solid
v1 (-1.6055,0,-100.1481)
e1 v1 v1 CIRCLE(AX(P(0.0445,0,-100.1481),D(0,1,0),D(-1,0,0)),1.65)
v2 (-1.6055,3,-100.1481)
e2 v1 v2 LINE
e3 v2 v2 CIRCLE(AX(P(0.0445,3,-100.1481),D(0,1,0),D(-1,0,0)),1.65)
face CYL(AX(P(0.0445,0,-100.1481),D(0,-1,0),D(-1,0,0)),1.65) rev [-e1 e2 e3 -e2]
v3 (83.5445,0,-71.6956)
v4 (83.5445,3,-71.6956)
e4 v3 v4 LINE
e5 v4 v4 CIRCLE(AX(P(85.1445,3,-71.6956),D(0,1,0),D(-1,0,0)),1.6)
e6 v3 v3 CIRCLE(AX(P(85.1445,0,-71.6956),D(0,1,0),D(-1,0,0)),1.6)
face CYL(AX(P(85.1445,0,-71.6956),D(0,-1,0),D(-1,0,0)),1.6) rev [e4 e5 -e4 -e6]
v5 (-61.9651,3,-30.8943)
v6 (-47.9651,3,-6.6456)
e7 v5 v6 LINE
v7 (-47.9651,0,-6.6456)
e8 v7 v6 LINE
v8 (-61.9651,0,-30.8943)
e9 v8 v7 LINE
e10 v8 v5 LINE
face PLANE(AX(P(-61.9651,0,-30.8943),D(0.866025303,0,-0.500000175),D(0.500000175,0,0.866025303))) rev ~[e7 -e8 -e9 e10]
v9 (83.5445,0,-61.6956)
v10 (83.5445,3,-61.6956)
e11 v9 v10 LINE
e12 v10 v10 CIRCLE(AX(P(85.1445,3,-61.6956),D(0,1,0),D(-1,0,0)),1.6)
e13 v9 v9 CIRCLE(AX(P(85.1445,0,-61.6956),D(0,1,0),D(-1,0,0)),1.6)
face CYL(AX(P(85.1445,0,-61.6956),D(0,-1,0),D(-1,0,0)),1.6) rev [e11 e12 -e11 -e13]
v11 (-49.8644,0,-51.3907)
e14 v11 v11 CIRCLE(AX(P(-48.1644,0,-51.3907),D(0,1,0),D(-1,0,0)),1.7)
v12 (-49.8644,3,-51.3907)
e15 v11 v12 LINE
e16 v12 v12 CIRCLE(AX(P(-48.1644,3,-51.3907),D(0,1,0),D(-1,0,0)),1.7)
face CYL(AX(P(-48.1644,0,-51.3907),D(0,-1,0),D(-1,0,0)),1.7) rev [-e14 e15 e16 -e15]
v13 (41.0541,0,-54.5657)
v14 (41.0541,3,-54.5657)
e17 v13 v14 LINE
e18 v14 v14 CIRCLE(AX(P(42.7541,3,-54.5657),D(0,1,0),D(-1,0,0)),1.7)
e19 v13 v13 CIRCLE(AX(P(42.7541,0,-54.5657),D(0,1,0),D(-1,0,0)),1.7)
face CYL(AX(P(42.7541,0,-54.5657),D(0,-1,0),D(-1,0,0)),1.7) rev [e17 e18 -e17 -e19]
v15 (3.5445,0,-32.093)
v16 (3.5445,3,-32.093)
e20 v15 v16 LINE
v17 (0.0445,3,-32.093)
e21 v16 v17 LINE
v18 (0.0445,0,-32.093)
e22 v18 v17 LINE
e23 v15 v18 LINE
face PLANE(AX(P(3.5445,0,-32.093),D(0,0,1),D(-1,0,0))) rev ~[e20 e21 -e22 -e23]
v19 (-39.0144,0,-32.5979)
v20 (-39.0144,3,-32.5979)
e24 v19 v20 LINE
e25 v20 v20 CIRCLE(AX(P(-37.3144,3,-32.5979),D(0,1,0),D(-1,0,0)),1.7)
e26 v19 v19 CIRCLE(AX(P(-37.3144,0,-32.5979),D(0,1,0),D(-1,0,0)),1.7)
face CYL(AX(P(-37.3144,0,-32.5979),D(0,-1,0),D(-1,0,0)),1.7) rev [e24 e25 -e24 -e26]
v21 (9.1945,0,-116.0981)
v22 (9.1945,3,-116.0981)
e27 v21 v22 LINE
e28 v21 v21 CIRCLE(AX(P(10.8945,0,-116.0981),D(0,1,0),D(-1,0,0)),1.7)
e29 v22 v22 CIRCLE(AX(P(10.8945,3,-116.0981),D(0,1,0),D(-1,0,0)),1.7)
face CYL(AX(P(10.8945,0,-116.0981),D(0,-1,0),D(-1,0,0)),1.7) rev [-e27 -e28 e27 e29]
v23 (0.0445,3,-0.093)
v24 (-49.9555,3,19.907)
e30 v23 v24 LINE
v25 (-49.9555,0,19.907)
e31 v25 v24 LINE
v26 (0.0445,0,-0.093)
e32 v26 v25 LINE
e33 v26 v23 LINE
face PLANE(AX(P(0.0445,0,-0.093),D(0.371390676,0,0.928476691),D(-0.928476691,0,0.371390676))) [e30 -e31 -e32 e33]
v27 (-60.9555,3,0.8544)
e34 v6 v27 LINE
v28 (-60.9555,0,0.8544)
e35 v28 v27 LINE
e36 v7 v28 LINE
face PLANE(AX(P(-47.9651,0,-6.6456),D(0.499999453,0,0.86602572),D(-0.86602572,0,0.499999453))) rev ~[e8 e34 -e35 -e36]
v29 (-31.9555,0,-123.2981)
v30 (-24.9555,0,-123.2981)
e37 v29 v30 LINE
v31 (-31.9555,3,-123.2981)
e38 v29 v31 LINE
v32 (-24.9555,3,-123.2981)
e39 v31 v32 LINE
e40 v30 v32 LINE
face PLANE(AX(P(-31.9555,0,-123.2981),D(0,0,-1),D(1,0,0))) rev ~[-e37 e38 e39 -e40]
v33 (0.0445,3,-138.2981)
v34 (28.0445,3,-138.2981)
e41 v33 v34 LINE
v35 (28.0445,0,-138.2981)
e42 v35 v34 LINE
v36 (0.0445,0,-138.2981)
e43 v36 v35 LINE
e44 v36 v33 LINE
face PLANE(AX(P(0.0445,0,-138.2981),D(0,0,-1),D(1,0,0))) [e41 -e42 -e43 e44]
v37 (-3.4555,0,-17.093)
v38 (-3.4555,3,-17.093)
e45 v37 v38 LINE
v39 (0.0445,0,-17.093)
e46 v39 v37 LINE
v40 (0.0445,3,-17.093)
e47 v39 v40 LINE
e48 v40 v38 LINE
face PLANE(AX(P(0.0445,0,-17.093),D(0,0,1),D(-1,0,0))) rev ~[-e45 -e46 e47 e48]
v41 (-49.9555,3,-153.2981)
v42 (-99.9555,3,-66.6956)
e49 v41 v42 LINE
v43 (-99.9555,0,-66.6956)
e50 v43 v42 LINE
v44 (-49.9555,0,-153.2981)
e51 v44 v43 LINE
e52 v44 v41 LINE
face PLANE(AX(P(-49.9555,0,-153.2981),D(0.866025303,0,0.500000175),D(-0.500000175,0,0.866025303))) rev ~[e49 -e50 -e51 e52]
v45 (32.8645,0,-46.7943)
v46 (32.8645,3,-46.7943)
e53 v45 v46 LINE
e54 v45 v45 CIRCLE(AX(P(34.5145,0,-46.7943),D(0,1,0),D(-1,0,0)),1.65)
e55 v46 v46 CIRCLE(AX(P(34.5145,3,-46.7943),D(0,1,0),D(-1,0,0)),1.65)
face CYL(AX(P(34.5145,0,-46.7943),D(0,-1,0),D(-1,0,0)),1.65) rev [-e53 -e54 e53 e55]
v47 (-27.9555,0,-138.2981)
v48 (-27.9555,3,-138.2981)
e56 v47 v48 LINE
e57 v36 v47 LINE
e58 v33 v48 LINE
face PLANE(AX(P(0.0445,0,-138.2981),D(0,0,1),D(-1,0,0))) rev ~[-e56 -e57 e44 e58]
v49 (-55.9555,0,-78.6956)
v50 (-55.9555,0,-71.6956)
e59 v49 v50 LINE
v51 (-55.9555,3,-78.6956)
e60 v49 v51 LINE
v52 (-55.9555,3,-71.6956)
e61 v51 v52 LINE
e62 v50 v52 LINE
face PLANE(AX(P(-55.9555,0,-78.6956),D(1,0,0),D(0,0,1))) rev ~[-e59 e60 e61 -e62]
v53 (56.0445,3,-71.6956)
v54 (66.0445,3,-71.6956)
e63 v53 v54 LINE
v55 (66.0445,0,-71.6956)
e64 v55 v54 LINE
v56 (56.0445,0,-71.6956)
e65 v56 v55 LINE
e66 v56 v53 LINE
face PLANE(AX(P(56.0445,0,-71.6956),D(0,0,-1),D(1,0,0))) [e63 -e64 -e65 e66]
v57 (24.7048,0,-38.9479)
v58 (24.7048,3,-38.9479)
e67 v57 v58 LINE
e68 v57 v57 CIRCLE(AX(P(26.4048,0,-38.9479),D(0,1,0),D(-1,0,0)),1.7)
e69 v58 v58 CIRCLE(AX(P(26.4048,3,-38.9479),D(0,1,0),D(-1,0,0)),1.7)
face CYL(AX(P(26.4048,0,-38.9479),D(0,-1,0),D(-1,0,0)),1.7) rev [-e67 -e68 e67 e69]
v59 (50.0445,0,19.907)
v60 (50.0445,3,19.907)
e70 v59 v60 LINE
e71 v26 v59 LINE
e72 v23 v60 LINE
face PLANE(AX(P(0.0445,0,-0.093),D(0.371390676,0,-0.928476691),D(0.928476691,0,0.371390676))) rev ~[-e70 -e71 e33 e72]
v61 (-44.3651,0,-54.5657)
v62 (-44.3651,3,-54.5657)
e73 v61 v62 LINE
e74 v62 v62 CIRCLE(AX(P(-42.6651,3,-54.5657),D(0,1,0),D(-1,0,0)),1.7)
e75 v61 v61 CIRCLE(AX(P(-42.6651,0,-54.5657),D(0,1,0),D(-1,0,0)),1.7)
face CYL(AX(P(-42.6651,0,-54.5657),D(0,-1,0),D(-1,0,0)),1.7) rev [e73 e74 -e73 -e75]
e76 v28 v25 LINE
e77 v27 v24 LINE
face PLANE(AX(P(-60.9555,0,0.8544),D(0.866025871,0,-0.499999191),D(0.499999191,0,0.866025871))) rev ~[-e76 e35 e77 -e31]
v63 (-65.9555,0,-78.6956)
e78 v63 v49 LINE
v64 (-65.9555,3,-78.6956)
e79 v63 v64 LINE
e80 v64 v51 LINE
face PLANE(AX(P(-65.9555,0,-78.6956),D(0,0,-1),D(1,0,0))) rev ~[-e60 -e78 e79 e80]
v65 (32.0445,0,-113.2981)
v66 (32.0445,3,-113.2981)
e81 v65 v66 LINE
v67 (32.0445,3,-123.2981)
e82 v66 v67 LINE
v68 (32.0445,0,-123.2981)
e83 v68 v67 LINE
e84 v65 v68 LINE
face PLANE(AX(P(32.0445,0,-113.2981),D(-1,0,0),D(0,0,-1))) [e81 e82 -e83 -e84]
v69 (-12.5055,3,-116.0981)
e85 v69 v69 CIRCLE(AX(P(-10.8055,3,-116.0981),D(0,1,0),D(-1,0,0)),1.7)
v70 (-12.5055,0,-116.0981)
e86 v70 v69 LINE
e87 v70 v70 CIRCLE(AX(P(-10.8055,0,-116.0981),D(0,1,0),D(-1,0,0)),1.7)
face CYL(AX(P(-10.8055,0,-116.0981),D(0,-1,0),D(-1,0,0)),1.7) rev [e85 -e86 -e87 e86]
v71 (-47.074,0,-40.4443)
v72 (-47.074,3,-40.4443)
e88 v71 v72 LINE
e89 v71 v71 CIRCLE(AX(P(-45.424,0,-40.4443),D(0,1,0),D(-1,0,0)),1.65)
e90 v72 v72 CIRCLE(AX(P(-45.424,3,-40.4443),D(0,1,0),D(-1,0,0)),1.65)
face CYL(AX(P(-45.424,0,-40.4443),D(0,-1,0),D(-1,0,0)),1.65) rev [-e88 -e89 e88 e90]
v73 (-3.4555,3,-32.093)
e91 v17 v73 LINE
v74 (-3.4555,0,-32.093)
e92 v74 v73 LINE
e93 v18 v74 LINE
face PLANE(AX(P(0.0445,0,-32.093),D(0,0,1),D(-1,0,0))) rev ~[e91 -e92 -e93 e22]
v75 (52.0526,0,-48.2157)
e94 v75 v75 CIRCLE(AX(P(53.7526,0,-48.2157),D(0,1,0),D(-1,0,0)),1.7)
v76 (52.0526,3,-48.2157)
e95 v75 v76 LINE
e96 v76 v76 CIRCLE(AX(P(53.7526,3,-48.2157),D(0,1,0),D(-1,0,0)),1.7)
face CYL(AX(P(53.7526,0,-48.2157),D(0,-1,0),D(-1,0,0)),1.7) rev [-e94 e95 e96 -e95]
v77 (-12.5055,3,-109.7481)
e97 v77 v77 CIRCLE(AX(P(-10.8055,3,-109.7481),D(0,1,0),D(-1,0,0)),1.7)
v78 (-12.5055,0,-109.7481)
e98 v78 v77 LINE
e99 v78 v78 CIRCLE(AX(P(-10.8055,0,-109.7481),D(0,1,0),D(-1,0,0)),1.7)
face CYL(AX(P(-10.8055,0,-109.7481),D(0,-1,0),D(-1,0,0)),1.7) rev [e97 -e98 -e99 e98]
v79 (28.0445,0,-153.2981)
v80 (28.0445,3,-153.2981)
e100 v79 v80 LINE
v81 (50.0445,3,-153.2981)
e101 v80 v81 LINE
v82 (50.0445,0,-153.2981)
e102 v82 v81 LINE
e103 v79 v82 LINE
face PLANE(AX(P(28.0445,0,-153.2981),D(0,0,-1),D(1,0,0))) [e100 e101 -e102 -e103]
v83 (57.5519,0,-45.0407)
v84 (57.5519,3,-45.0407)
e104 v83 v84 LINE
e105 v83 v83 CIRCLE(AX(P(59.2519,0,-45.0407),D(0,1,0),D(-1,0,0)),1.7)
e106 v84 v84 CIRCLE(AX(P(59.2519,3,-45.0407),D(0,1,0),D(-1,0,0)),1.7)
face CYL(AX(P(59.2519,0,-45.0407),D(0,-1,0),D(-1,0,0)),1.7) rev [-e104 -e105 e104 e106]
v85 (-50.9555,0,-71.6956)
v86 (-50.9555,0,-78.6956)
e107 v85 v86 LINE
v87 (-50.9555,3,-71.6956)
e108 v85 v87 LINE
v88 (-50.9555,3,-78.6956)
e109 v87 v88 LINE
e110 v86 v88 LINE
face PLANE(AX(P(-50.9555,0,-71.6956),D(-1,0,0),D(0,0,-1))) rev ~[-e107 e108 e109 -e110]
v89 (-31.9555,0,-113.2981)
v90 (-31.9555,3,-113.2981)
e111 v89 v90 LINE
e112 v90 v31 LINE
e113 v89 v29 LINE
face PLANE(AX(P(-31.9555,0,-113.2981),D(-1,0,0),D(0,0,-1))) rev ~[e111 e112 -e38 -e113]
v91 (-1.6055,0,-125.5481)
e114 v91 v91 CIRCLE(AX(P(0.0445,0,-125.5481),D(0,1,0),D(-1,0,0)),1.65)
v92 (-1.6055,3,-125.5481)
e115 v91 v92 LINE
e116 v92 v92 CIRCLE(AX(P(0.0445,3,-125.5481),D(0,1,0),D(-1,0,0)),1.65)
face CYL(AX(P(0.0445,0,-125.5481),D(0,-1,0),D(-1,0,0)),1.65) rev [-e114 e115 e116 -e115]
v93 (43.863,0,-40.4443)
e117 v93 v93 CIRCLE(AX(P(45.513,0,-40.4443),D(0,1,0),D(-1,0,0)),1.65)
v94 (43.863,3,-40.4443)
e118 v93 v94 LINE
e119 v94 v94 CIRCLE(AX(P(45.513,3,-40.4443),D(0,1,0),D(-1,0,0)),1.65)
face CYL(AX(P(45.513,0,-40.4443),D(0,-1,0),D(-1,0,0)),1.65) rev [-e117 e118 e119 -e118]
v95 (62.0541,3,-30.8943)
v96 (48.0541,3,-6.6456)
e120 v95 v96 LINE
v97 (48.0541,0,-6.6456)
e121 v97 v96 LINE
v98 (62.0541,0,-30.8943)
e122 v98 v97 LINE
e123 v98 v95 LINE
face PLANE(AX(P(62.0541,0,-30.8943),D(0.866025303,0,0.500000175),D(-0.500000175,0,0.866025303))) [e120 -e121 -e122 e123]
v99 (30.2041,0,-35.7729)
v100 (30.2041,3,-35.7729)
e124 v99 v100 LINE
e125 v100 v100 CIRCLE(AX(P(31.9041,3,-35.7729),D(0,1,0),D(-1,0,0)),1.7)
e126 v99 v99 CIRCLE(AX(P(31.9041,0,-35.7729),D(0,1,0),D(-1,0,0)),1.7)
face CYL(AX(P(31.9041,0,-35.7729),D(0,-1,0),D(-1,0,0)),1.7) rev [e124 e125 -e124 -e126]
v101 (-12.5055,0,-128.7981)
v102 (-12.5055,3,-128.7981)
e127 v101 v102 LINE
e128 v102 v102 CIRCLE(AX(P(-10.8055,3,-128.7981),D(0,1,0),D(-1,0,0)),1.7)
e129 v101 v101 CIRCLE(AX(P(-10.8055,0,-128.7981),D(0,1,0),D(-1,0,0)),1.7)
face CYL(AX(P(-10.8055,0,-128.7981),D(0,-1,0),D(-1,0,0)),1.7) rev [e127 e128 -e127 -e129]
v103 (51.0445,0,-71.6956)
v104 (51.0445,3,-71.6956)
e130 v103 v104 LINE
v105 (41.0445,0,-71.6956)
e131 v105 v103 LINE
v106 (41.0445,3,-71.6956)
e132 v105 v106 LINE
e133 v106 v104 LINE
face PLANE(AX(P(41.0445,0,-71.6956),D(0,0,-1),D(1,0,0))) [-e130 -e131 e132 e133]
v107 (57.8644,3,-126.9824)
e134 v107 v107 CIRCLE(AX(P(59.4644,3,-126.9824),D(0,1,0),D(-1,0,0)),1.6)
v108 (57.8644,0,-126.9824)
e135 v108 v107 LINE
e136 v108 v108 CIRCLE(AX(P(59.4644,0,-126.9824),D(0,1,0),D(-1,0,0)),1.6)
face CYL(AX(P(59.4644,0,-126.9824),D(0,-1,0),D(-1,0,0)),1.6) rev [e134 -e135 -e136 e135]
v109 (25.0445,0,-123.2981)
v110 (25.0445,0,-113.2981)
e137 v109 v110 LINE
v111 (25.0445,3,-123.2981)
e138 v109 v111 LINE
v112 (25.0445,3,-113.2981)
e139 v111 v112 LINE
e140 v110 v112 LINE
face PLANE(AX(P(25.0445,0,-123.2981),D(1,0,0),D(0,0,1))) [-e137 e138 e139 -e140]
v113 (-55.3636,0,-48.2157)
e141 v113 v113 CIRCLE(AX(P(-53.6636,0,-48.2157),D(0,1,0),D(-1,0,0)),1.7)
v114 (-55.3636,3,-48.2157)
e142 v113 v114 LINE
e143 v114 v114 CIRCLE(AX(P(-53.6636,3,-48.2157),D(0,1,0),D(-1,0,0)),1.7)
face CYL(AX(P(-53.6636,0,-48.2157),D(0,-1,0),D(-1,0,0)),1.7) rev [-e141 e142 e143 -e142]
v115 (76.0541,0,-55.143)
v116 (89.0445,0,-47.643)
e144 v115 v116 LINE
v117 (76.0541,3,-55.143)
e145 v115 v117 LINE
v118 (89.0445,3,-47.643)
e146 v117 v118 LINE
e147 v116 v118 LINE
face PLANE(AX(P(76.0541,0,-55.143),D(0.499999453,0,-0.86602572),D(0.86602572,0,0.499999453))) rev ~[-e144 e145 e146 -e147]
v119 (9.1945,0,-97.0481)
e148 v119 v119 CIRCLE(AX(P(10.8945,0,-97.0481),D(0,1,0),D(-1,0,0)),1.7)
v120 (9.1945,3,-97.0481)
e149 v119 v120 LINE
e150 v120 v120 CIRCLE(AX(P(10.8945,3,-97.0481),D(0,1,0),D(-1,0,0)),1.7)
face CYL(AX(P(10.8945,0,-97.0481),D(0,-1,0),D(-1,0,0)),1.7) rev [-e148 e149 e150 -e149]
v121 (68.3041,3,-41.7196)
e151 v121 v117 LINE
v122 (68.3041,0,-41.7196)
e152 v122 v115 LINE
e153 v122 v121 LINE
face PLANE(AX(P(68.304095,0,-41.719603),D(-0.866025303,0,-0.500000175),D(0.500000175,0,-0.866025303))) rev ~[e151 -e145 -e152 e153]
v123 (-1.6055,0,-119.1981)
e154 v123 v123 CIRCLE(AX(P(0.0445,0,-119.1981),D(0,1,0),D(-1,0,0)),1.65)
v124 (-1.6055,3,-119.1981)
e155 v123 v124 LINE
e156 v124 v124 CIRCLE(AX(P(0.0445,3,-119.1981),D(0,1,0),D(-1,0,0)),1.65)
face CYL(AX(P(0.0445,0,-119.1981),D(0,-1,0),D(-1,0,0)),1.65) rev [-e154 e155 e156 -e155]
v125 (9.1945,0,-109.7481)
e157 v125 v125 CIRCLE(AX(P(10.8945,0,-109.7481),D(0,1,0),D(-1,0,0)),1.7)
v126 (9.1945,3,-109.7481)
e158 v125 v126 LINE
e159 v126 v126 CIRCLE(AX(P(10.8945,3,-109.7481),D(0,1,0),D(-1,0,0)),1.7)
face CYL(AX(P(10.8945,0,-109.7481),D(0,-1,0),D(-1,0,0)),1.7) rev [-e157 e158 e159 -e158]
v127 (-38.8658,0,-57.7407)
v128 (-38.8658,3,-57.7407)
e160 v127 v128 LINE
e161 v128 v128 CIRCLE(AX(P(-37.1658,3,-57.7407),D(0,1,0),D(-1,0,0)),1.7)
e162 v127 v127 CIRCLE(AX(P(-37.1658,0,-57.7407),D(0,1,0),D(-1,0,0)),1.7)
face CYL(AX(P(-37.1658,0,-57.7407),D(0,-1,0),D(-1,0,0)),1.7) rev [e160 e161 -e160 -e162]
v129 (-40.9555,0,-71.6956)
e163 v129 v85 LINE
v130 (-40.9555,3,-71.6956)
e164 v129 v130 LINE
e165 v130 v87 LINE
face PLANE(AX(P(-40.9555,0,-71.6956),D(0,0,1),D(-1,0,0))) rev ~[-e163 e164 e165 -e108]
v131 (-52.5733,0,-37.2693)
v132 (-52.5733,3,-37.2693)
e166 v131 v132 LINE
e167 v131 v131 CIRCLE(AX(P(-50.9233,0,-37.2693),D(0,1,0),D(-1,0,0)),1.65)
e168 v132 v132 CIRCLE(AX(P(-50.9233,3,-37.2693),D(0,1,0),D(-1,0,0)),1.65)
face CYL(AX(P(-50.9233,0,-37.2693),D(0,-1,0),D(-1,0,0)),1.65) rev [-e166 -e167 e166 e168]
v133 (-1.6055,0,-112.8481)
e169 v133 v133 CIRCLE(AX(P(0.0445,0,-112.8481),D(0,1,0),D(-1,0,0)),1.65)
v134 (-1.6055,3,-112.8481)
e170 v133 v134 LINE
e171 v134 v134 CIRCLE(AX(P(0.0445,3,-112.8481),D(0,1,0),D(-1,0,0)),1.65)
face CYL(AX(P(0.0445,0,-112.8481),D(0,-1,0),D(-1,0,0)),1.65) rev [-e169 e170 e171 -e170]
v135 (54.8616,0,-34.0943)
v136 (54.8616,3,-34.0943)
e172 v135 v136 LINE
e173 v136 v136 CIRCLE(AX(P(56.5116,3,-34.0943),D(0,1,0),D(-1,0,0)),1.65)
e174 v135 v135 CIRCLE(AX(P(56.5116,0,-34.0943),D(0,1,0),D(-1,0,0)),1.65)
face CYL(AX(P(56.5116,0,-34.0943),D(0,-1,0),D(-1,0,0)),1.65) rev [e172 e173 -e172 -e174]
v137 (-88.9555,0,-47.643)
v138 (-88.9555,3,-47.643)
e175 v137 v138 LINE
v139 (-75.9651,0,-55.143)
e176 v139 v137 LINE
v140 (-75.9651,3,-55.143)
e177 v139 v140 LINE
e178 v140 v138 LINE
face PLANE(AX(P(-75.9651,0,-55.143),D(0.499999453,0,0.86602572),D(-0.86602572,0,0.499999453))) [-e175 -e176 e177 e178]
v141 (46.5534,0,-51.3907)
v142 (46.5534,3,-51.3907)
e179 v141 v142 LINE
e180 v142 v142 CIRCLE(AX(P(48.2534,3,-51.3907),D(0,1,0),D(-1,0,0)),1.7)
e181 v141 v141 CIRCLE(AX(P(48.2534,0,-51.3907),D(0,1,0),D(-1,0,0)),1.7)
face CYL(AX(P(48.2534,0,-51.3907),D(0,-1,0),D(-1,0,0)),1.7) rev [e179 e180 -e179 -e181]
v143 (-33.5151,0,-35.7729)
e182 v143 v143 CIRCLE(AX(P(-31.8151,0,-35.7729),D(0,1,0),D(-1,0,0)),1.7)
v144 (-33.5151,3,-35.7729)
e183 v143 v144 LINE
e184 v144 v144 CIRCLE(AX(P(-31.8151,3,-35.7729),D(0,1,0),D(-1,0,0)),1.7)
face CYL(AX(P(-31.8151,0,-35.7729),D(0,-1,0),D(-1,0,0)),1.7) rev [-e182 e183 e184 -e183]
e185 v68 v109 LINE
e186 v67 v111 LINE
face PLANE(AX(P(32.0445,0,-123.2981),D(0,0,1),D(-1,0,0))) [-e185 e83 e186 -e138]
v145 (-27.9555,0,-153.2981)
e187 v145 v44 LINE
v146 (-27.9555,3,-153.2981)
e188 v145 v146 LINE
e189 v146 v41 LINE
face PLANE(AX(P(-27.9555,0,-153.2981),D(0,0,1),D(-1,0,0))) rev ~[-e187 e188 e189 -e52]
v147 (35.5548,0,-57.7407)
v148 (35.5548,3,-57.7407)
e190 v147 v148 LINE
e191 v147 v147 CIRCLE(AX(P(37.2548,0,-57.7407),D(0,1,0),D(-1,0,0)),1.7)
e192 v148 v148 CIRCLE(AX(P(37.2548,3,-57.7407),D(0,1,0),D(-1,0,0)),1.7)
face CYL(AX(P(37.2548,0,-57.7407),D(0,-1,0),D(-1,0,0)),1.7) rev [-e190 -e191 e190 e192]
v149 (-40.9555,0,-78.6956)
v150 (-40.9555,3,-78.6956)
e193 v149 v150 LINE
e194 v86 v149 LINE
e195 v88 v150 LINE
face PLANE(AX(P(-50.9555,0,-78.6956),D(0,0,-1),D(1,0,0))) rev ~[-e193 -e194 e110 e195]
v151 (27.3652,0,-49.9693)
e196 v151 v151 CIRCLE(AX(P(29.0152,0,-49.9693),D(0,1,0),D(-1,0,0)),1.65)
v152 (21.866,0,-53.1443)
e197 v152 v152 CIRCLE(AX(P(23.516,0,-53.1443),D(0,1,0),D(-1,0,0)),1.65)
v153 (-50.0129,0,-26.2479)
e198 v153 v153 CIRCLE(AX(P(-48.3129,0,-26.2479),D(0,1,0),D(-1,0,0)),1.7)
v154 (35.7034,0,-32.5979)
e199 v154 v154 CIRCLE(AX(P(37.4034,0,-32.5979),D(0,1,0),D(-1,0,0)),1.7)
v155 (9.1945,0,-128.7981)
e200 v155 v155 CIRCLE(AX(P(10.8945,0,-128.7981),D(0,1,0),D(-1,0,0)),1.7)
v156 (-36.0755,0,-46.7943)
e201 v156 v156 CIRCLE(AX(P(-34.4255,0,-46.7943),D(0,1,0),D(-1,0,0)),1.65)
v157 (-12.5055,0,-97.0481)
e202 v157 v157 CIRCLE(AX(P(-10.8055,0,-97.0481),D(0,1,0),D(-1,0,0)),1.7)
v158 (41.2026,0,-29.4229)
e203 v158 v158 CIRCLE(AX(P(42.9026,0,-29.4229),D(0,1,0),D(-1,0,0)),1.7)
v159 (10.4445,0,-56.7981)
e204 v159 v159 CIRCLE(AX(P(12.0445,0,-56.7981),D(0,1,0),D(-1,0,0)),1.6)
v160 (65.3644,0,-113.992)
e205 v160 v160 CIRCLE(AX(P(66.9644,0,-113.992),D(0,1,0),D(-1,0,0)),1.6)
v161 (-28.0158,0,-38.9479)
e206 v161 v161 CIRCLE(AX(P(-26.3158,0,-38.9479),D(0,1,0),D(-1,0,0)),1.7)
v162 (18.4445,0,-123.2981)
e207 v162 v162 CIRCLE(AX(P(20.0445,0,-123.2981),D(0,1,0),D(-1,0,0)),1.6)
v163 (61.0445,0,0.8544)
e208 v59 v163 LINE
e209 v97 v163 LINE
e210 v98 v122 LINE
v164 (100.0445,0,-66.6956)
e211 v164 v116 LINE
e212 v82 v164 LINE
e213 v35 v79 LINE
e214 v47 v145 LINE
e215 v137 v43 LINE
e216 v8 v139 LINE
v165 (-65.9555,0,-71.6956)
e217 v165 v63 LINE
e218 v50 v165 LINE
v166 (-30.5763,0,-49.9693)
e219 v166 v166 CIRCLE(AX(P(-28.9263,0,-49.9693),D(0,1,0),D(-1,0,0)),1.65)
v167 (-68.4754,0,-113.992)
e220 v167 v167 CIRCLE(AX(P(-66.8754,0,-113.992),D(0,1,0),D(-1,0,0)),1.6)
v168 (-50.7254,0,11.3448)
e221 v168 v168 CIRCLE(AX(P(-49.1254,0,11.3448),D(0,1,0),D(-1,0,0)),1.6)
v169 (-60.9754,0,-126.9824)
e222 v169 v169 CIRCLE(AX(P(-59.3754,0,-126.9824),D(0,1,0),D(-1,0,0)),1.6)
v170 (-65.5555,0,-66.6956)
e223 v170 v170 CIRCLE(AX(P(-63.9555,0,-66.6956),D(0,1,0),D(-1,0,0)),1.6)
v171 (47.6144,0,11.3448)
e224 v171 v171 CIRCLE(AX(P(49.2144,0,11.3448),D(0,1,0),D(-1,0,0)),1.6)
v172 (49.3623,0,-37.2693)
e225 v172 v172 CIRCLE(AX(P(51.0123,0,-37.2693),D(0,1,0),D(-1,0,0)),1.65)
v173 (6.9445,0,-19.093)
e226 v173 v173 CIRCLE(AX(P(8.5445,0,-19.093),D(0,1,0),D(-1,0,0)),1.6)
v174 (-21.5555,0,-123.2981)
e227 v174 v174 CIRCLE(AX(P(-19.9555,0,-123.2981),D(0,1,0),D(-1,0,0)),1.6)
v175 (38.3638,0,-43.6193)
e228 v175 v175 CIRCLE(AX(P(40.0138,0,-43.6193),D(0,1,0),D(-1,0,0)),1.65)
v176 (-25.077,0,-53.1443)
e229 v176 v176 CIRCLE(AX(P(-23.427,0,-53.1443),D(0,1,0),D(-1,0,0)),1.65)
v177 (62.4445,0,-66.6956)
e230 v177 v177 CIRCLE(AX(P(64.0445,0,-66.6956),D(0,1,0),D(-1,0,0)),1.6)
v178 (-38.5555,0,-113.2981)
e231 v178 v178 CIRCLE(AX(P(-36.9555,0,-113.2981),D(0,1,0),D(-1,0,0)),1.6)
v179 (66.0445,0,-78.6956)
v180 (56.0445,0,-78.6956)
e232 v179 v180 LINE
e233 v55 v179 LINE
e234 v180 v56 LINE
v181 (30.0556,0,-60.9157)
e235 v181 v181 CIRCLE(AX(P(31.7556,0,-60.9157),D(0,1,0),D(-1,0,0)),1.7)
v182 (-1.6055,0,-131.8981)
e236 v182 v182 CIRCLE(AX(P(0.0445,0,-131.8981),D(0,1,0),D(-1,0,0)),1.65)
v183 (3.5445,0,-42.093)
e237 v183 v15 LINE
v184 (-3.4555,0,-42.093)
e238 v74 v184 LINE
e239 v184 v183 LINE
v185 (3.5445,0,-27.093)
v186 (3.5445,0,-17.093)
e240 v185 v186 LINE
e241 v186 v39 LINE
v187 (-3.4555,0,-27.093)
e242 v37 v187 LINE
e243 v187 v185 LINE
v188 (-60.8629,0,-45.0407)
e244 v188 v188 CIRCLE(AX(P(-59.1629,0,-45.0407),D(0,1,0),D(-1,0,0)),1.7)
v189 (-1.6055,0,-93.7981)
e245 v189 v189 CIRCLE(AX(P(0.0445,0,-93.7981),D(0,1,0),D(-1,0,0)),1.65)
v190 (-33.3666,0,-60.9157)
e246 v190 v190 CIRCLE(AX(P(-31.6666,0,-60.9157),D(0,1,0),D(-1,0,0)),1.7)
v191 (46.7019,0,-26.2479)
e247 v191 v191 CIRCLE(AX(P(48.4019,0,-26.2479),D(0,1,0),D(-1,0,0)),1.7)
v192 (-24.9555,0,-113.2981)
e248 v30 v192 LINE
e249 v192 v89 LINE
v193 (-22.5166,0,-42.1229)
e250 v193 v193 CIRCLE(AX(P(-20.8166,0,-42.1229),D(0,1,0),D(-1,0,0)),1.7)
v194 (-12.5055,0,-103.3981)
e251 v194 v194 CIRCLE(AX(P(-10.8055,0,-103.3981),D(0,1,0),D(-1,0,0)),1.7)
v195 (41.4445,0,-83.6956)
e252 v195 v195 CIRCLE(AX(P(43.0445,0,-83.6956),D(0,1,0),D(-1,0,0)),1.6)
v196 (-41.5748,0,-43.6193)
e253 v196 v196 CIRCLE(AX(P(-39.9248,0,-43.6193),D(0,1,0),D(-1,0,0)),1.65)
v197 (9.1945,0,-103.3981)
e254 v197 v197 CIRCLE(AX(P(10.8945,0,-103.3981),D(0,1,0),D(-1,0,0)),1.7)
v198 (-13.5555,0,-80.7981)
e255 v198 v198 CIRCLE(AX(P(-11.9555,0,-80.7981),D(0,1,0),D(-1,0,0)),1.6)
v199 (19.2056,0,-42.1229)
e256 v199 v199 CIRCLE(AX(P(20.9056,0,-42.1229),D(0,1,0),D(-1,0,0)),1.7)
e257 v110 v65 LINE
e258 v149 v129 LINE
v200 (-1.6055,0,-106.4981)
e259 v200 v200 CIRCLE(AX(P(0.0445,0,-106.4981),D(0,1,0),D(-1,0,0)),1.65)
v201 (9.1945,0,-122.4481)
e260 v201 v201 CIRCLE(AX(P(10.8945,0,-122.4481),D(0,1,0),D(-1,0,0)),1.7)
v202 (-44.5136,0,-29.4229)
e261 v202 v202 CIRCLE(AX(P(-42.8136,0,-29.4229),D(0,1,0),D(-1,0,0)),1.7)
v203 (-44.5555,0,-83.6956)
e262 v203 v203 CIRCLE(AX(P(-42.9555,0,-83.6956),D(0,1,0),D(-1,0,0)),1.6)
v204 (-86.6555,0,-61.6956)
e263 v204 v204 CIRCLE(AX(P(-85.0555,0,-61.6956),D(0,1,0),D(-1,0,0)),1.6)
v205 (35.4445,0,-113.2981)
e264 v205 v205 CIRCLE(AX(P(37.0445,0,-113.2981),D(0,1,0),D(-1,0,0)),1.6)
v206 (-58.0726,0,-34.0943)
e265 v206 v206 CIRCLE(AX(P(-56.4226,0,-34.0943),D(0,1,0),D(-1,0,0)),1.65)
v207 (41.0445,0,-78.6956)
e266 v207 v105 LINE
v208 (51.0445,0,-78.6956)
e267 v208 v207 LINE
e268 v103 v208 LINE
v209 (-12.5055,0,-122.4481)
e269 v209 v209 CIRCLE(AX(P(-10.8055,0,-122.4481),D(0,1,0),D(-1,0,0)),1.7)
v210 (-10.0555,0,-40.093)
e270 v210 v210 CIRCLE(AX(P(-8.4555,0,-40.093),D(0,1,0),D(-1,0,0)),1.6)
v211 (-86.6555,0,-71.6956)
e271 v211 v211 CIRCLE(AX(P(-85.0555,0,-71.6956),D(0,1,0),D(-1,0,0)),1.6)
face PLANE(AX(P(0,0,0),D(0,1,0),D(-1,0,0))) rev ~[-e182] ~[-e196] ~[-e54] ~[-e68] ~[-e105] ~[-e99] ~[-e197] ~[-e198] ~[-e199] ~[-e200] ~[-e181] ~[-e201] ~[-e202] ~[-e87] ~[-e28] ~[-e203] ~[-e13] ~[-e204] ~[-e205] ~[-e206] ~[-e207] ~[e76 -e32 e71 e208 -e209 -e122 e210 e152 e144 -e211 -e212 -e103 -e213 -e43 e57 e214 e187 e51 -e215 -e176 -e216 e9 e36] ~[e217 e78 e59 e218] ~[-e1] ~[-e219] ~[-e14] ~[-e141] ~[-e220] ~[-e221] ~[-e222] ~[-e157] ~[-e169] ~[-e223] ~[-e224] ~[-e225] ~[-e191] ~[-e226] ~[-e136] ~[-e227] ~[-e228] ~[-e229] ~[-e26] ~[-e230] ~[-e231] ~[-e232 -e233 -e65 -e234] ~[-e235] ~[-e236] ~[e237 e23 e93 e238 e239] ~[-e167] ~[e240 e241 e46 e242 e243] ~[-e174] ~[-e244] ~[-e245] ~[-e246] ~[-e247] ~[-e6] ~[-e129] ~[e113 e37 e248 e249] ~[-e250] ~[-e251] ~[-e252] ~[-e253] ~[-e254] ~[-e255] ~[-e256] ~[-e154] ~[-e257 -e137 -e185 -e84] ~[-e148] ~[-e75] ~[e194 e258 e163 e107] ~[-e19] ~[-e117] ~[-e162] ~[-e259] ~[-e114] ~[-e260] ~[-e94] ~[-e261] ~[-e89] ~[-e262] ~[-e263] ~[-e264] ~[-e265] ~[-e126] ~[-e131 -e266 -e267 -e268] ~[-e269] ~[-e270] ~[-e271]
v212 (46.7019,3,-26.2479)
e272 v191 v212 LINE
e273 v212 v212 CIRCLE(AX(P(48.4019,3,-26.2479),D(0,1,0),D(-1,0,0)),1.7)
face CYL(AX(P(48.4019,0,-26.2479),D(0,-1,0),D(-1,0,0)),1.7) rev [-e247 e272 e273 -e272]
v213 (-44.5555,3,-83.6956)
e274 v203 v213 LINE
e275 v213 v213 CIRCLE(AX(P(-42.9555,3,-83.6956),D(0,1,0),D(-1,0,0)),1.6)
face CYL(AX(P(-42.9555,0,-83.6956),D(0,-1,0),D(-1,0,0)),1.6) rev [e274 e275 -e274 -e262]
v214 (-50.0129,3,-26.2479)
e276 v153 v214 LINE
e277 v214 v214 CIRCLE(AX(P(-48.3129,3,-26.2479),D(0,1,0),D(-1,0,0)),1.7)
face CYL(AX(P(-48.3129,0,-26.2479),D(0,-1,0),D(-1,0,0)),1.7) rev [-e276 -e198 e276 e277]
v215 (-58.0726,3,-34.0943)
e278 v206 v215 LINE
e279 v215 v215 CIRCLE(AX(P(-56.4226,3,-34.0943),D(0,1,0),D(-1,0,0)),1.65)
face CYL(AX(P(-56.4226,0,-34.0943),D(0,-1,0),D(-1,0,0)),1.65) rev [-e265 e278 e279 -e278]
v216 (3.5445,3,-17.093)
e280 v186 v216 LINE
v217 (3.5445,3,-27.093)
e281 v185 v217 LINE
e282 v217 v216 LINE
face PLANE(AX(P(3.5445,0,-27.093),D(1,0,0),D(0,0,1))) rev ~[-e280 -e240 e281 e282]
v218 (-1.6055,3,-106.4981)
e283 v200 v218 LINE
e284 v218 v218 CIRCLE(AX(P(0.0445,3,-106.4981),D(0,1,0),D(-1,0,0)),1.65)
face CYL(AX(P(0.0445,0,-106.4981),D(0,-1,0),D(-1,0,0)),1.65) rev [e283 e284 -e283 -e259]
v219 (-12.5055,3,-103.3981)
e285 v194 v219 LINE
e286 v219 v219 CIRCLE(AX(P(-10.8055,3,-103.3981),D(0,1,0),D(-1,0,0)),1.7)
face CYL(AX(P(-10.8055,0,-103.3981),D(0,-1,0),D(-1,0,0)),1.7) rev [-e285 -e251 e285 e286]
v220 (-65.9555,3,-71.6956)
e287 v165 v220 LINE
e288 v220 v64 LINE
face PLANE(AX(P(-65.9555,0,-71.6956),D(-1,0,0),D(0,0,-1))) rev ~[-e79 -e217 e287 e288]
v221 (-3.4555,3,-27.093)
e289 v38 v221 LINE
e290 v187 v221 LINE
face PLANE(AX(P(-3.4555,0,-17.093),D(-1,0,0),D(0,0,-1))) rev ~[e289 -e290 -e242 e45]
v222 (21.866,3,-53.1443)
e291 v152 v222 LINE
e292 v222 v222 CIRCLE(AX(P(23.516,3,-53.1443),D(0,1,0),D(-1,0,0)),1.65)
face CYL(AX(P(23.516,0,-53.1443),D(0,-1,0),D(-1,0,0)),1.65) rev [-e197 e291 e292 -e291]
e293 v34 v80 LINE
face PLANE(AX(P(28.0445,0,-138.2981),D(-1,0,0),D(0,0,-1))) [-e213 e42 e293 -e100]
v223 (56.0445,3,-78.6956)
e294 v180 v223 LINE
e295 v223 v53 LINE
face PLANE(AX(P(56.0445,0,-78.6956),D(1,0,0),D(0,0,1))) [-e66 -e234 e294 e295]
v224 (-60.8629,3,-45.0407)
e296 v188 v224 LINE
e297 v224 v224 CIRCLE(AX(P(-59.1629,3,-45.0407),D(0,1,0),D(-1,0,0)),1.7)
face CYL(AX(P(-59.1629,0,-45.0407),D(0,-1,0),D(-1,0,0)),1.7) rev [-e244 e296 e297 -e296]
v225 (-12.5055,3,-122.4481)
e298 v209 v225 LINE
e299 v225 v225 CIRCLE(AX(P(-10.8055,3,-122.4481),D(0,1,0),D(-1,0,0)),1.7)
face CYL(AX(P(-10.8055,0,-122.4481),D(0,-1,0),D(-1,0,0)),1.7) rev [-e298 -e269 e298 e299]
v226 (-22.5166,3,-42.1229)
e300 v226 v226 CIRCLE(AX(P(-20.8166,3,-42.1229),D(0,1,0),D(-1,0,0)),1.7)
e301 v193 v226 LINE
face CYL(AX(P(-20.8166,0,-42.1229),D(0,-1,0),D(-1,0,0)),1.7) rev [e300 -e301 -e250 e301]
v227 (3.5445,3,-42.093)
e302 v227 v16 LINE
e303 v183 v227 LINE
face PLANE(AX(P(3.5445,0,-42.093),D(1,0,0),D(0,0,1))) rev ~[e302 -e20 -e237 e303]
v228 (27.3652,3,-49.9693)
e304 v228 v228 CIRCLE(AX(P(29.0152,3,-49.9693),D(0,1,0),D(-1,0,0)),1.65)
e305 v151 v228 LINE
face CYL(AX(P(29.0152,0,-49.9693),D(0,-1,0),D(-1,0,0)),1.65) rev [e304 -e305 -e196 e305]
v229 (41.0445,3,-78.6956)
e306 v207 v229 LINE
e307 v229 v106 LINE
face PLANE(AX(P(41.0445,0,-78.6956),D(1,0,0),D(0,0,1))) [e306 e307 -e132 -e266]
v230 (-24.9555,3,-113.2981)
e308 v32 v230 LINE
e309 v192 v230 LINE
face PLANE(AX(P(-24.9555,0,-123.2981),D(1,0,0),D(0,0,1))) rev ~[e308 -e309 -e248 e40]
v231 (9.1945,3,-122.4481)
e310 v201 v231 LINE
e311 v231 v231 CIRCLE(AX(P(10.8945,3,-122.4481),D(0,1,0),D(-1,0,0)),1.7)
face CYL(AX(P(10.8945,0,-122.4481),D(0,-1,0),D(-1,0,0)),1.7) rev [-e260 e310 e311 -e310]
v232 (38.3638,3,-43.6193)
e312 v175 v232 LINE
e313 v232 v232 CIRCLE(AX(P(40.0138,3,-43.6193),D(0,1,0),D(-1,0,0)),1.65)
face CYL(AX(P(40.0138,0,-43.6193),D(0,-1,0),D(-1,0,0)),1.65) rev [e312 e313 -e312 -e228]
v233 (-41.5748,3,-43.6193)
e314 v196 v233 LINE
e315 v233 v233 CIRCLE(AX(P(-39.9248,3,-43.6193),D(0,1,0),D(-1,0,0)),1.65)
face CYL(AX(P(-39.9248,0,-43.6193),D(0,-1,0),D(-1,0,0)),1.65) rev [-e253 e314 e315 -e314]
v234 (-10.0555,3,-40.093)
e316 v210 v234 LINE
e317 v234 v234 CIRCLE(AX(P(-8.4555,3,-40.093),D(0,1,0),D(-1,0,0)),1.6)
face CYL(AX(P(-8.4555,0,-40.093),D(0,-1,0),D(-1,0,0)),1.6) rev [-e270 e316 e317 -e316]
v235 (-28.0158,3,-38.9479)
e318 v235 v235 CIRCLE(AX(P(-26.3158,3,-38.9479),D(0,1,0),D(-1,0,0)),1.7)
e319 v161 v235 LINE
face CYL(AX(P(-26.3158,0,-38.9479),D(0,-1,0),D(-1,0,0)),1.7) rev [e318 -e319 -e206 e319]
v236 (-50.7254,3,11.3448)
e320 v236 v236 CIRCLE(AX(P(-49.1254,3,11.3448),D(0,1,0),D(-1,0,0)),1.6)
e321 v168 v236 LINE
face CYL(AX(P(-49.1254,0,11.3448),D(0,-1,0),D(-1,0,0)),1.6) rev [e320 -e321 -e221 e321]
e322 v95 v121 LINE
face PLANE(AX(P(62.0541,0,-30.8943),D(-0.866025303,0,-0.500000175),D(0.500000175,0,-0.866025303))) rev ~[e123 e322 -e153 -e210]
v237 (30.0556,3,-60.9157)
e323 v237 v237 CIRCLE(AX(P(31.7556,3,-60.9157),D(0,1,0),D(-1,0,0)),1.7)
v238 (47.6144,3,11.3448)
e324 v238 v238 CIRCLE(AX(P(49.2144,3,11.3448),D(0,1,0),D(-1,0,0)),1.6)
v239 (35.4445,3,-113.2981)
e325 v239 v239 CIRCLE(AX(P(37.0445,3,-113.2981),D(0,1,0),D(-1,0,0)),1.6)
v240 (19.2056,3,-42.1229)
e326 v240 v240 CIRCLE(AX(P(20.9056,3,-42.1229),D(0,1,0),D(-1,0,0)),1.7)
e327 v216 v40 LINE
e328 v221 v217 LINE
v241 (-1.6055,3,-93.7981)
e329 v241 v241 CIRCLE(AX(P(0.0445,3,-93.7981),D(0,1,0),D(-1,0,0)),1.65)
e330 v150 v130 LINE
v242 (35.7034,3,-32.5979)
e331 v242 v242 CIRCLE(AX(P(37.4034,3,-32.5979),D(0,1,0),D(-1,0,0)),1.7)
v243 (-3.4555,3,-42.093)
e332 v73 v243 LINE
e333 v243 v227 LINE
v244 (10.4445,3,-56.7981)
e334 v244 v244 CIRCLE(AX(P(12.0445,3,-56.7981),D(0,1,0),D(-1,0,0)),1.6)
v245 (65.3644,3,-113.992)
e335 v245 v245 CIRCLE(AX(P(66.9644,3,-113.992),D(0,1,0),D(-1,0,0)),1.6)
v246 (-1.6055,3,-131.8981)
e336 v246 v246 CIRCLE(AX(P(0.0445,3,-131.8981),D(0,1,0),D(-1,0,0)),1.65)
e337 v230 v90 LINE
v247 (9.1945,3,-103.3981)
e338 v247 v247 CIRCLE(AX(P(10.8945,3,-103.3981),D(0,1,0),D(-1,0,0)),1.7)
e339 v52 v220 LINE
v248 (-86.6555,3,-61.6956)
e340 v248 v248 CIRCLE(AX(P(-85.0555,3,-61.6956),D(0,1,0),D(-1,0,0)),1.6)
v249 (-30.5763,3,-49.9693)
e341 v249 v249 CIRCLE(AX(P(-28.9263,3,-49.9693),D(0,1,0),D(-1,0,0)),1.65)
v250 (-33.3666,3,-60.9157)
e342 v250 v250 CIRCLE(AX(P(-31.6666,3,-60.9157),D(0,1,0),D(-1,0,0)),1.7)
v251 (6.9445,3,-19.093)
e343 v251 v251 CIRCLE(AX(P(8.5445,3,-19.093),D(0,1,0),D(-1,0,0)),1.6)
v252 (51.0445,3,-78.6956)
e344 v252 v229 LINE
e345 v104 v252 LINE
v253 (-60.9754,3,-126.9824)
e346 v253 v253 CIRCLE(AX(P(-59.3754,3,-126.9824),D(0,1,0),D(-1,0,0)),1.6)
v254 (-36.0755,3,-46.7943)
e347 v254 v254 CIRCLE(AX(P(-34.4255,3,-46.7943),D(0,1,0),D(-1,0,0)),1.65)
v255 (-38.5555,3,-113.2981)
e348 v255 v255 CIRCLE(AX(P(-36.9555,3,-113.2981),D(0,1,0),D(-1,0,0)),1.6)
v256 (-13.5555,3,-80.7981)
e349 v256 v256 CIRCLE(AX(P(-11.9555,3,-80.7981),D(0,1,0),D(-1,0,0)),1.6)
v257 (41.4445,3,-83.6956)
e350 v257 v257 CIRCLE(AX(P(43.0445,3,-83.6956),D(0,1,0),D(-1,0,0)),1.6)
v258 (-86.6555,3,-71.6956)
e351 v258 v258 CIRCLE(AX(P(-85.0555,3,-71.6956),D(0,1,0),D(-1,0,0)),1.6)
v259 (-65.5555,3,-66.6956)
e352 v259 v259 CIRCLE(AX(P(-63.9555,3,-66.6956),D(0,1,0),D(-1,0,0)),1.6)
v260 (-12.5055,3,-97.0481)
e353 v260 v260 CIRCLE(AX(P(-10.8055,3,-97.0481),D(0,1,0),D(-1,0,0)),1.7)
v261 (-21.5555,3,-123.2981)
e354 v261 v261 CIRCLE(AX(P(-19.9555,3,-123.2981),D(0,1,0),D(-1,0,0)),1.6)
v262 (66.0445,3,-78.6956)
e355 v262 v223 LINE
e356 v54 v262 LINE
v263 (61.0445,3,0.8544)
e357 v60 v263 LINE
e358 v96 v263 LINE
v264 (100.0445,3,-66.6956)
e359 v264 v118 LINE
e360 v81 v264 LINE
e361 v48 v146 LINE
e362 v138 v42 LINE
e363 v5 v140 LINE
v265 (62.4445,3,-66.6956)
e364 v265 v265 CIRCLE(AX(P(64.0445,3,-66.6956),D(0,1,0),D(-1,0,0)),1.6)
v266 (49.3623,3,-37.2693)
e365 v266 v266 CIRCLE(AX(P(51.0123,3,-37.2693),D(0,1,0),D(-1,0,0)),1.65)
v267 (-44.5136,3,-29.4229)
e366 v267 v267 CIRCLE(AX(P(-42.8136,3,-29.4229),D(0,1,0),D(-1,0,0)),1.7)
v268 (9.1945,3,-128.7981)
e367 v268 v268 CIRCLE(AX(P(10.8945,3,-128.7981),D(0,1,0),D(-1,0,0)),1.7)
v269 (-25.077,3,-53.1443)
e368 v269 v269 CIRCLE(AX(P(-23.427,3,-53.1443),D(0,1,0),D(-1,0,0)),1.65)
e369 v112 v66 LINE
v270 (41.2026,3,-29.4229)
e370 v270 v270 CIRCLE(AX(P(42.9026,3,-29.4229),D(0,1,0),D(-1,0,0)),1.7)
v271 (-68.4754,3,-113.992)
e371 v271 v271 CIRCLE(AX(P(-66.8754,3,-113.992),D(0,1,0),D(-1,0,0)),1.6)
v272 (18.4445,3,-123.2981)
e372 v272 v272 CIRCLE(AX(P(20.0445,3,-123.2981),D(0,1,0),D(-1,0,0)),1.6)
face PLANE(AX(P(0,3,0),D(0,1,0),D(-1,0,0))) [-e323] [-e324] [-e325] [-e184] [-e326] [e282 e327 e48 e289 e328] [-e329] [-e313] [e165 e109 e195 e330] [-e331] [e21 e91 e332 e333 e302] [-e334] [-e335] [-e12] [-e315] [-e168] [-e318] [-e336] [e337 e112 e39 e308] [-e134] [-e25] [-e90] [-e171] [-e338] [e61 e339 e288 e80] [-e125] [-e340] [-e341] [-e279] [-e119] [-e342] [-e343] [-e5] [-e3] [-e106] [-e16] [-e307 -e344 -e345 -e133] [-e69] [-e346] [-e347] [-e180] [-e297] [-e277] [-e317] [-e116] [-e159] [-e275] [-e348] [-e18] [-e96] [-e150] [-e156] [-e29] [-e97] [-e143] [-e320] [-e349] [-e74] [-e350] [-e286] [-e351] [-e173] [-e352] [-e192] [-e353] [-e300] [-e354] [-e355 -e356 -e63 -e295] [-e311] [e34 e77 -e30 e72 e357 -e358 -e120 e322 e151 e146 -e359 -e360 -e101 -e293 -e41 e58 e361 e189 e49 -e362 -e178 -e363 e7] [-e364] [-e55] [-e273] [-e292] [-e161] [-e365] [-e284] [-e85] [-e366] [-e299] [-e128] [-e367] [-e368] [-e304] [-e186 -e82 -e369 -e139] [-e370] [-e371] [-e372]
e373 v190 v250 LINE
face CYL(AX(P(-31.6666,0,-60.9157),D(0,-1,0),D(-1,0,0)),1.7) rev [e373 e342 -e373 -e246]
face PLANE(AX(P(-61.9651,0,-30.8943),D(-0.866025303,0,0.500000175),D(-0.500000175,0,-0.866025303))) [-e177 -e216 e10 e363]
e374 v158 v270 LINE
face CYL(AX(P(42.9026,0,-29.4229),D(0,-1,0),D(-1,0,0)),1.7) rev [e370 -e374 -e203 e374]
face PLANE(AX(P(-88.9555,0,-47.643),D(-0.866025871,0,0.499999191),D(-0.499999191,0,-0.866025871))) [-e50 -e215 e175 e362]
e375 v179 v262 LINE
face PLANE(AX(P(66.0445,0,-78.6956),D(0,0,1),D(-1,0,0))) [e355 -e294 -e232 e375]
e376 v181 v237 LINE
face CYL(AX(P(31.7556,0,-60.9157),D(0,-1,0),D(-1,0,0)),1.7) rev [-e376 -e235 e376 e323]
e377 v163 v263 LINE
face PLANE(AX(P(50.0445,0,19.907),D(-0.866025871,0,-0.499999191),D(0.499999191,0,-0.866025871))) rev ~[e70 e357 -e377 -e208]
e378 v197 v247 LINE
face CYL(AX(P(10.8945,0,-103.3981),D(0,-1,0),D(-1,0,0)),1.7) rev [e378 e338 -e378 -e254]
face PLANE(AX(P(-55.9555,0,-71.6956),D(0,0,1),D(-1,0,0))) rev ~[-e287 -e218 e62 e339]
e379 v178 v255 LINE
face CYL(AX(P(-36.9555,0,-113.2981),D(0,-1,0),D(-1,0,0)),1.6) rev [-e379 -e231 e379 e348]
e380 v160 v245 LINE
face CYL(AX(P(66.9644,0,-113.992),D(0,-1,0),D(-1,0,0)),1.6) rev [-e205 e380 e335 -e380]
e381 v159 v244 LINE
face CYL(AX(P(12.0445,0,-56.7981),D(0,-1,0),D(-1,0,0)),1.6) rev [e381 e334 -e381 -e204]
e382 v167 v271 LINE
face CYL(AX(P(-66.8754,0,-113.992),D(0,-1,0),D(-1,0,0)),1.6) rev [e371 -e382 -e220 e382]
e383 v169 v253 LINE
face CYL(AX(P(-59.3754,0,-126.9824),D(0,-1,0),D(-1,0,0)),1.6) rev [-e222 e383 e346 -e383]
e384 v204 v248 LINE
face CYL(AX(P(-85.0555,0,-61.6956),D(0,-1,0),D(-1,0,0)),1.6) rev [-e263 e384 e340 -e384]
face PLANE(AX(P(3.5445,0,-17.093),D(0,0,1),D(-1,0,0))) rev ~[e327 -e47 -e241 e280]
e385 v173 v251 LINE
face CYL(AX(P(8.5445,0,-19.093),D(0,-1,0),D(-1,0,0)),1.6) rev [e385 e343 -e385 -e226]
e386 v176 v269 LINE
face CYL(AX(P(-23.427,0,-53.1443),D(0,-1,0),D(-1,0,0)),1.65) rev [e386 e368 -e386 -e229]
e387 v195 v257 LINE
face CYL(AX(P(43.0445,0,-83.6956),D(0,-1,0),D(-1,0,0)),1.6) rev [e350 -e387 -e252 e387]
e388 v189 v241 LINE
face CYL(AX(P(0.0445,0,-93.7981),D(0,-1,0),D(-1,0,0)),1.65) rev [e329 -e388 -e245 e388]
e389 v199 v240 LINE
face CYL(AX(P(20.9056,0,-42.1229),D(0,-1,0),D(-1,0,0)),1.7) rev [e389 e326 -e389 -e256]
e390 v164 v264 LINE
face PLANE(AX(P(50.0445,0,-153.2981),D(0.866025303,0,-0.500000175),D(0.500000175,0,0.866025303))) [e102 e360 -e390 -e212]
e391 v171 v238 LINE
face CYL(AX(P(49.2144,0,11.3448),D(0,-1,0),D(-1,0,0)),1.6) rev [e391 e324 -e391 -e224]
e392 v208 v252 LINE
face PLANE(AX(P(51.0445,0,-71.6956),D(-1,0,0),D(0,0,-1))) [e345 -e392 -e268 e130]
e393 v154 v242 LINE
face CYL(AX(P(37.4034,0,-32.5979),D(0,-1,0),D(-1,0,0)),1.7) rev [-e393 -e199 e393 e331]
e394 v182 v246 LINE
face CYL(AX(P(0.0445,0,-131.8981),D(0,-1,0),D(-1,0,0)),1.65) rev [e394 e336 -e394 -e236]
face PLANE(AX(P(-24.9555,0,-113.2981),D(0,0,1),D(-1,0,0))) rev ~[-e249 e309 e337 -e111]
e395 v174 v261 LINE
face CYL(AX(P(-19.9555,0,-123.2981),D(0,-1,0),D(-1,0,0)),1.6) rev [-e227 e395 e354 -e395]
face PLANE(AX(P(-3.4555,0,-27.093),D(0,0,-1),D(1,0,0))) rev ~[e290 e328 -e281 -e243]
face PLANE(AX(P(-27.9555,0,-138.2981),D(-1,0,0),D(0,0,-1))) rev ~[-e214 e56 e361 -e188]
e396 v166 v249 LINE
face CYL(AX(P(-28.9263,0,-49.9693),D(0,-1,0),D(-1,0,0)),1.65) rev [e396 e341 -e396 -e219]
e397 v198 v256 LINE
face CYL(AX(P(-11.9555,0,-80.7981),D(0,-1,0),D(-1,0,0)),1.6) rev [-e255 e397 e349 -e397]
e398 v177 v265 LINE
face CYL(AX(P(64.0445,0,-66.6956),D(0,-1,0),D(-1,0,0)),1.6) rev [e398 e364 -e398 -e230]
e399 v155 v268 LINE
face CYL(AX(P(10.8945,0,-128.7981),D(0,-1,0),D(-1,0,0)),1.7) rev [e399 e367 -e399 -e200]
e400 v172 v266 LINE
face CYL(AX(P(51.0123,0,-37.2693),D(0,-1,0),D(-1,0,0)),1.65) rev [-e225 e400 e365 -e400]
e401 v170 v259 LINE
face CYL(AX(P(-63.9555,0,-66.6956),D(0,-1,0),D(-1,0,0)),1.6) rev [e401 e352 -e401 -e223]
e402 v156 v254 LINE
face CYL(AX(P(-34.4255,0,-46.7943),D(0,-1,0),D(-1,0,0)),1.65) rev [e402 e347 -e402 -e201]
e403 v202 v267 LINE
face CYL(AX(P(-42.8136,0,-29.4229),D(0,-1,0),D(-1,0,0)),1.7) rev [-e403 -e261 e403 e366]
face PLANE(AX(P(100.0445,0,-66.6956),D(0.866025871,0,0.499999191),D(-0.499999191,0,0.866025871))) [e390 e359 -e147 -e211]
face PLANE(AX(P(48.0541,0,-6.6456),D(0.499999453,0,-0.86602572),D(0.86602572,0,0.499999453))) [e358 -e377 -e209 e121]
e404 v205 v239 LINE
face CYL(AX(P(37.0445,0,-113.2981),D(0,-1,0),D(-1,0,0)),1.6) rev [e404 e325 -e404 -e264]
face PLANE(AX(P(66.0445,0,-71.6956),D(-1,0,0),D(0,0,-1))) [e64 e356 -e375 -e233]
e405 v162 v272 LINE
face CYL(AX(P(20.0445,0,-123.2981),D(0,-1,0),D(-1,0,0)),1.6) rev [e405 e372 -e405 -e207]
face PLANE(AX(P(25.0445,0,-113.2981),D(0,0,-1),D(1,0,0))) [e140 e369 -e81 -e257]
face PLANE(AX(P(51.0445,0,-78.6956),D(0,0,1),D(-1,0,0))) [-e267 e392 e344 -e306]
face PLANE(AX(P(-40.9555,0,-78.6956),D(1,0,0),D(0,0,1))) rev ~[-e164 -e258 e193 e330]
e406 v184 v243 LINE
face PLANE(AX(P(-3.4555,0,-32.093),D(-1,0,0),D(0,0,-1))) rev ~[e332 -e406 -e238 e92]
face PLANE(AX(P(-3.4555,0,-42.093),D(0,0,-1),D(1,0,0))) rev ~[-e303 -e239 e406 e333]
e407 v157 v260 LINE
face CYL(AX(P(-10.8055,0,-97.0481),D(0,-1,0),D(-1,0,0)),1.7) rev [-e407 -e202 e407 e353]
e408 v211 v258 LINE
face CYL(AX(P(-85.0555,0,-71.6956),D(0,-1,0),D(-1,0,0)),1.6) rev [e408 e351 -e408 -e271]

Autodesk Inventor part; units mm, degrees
ref_plane "YZ Plane" through (0, 0, 0) normal (1, 0, 0) x (0, 1, 0)
ref_plane "XZ Plane" through (0, 0, 0) normal (0, 1, 0) x (-1, 0, 0)
ref_plane "XY Plane" through (0, 0, 0) normal (0, 0, 1) x (1, 0, 0)
sketch "Sketch1" plane through (0, 0, 0) normal (0, 1, 0) x (-1, 0, 0)
  line L0 (60.9555, 0.8544) -> (49.9555, 19.907)
  line L1 (-50.0445, 19.907) -> (-61.0445, 0.8544)
  line L2 (-28.0445, -153.2981) -> (-50.0445, -153.2981)
  line L3 (-50.0445, -153.2981) -> (-100.0445, -66.6956)
  line L4 (27.9555, -153.2981) -> (49.9555, -153.2981)
  line L5 (49.9555, -153.2981) -> (99.9555, -66.6956)
  line L6 (-100.0445, -66.6956) -> (-89.0445, -47.643)
  line L7 (88.9555, -47.643) -> (99.9555, -66.6956)
  line L8 (-0.0445, -0.093) -> (-50.0445, 19.907)
  line L9 (-0.0445, -0.093) -> (49.9555, 19.907)
  circle A0 centre (-66.9644, -113.992) radius 1.6
  circle A1 centre (-59.4644, -126.9824) radius 1.6
  circle A2 centre (59.3754, -126.9824) radius 1.6
  circle A3 centre (66.8754, -113.992) radius 1.6
  circle A4 centre (-49.2144, 11.3448) radius 1.6
  circle A5 centre (49.1254, 11.3448) radius 1.6
  circle A6 centre (-85.1445, -61.6956) radius 1.6
  circle A7 centre (-85.1445, -71.6956) radius 1.6
  circle A8 centre (85.0555, -61.6956) radius 1.6
  circle A9 centre (85.0555, -71.6956) radius 1.6
  circle A10 centre (-56.5116, -34.0943) radius 1.65
  circle A11 centre (-51.0123, -37.2693) radius 1.65
  circle A12 centre (-45.513, -40.4443) radius 1.65
  circle A13 centre (-40.0138, -43.6193) radius 1.65
  circle A14 centre (-34.5145, -46.7943) radius 1.65
  circle A15 centre (-29.0152, -49.9693) radius 1.65
  circle A16 centre (-23.516, -53.1443) radius 1.65
  circle A17 centre (-20.9056, -42.1229) radius 1.7
  circle A18 centre (-26.4048, -38.9479) radius 1.7
  circle A19 centre (-31.9041, -35.7729) radius 1.7
  circle A20 centre (-37.4034, -32.5979) radius 1.7
  circle A21 centre (-42.9026, -29.4229) radius 1.7
  circle A22 centre (-48.4019, -26.2479) radius 1.7
  circle A23 centre (-59.2519, -45.0407) radius 1.7
  circle A24 centre (-53.7526, -48.2157) radius 1.7
  circle A25 centre (-48.2534, -51.3907) radius 1.7
  circle A26 centre (-42.7541, -54.5657) radius 1.7
  circle A27 centre (-37.2548, -57.7407) radius 1.7
  circle A28 centre (-31.7556, -60.9157) radius 1.7
  line L10 (-62.0541, -30.8943) -> (-48.0541, -6.6456)
  line L11 (-48.0541, -6.6456) -> (-61.0445, 0.8544)
  line L12 (-62.0541, -30.8943) -> (-76.0541, -55.143)
  line L13 (-76.0541, -55.143) -> (-89.0445, -47.643)
  line L14 (-0.0445, -138.2981) -> (27.9555, -138.2981)
  line L15 (27.9555, -138.2981) -> (27.9555, -153.2981)
  line L16 (-0.0445, -138.2981) -> (-28.0445, -138.2981)
  line L17 (-28.0445, -138.2981) -> (-28.0445, -153.2981)
  line L18 (61.9651, -30.8943) -> (75.9651, -55.143)
  line L19 (75.9651, -55.143) -> (88.9555, -47.643)
  line L20 (61.9651, -30.8943) -> (47.9651, -6.6456)
  line L21 (47.9651, -6.6456) -> (60.9555, 0.8544)
  circle A29 centre (56.4226, -34.0943) radius 1.65
  circle A30 centre (50.9233, -37.2693) radius 1.65
  circle A31 centre (45.424, -40.4443) radius 1.65
  circle A32 centre (39.9248, -43.6193) radius 1.65
  circle A33 centre (34.4255, -46.7943) radius 1.65
  circle A34 centre (28.9263, -49.9693) radius 1.65
  circle A35 centre (23.427, -53.1443) radius 1.65
  circle A36 centre (31.6666, -60.9157) radius 1.7
  circle A37 centre (37.1658, -57.7407) radius 1.7
  circle A38 centre (42.6651, -54.5657) radius 1.7
  circle A39 centre (48.1644, -51.3907) radius 1.7
  circle A40 centre (53.6636, -48.2157) radius 1.7
  circle A41 centre (59.1629, -45.0407) radius 1.7
  circle A42 centre (48.3129, -26.2479) radius 1.7
  circle A43 centre (42.8136, -29.4229) radius 1.7
  circle A44 centre (37.3144, -32.5979) radius 1.7
  circle A45 centre (31.8151, -35.7729) radius 1.7
  circle A46 centre (26.3158, -38.9479) radius 1.7
  circle A47 centre (20.8166, -42.1229) radius 1.7
  circle A48 centre (-0.0445, -131.8981) radius 1.65
  circle A49 centre (-0.0445, -125.5481) radius 1.65
  circle A50 centre (-0.0445, -119.1981) radius 1.65
  circle A51 centre (-0.0445, -112.8481) radius 1.65
  circle A52 centre (-0.0445, -106.4981) radius 1.65
  circle A53 centre (-0.0445, -100.1481) radius 1.65
  circle A54 centre (-0.0445, -93.7981) radius 1.65
  circle A55 centre (-10.8945, -97.0481) radius 1.7
  circle A56 centre (-10.8945, -103.3981) radius 1.7
  circle A57 centre (-10.8945, -109.7481) radius 1.7
  circle A58 centre (-10.8945, -116.0981) radius 1.7
  circle A59 centre (-10.8945, -122.4481) radius 1.7
  circle A60 centre (-10.8945, -128.7981) radius 1.7
  circle A61 centre (10.8055, -128.7981) radius 1.7
  circle A62 centre (10.8055, -122.4481) radius 1.7
  circle A63 centre (10.8055, -116.0981) radius 1.7
  circle A64 centre (10.8055, -109.7481) radius 1.7
  circle A65 centre (10.8055, -103.3981) radius 1.7
  circle A66 centre (10.8055, -97.0481) radius 1.7
  line L22 (-62.0541, -30.8943) -> (-68.3041, -41.7196)
  line L23 (-66.0445, -71.6956) -> (-66.0445, -78.6956)
  line L24 (-66.0445, -78.6956) -> (-56.0445, -78.6956)
  line L25 (-56.0445, -78.6956) -> (-56.0445, -71.6956)
  line L26 (-56.0445, -71.6956) -> (-66.0445, -71.6956)
  line L27 (-51.0445, -71.6956) -> (-51.0445, -78.6956)
  line L28 (-51.0445, -78.6956) -> (-41.0445, -78.6956)
  line L29 (-41.0445, -78.6956) -> (-41.0445, -71.6956)
  line L30 (-41.0445, -71.6956) -> (-51.0445, -71.6956)
  line L31 (65.9555, -71.6956) -> (65.9555, -78.6956)
  line L32 (65.9555, -78.6956) -> (55.9555, -78.6956)
  line L33 (55.9555, -78.6956) -> (55.9555, -71.6956)
  line L34 (55.9555, -71.6956) -> (65.9555, -71.6956)
  line L35 (50.9555, -71.6956) -> (50.9555, -78.6956)
  line L36 (50.9555, -78.6956) -> (40.9555, -78.6956)
  line L37 (40.9555, -78.6956) -> (40.9555, -71.6956)
  line L38 (40.9555, -71.6956) -> (50.9555, -71.6956)
  line L39 (-0.0445, -17.093) -> (3.4555, -17.093)
  line L40 (3.4555, -17.093) -> (3.4555, -27.093)
  line L41 (3.4555, -27.093) -> (-3.5445, -27.093)
  line L42 (-3.5445, -27.093) -> (-3.5445, -17.093)
  line L43 (-3.5445, -17.093) -> (-0.0445, -17.093)
  line L44 (-0.0445, -32.093) -> (3.4555, -32.093)
  line L45 (3.4555, -32.093) -> (3.4555, -42.093)
  line L46 (3.4555, -42.093) -> (-3.5445, -42.093)
  line L47 (-3.5445, -42.093) -> (-3.5445, -32.093)
  line L48 (-3.5445, -32.093) -> (-0.0445, -32.093)
  line L49 (-25.0445, -123.2981) -> (-25.0445, -113.2981)
  line L50 (-25.0445, -113.2981) -> (-32.0445, -113.2981)
  line L51 (-32.0445, -113.2981) -> (-32.0445, -123.2981)
  line L52 (-32.0445, -123.2981) -> (-25.0445, -123.2981)
  line L53 (24.9555, -123.2981) -> (24.9555, -113.2981)
  line L54 (24.9555, -113.2981) -> (31.9555, -113.2981)
  line L55 (31.9555, -113.2981) -> (31.9555, -123.2981)
  line L56 (31.9555, -123.2981) -> (24.9555, -123.2981)
  circle A67 centre (-37.0445, -113.2981) radius 1.6
  circle A68 centre (-20.0445, -123.2981) radius 1.6
  circle A69 centre (36.9555, -113.2981) radius 1.6
  circle A70 centre (19.9555, -123.2981) radius 1.6
  circle A71 centre (-12.0445, -56.7981) radius 1.6
  circle A72 centre (11.9555, -80.7981) radius 1.6
  circle A73 centre (-64.0445, -66.6956) radius 1.6
  circle A74 centre (-43.0445, -83.6956) radius 1.6
  circle A75 centre (63.9555, -66.6956) radius 1.6
  circle A76 centre (42.9555, -83.6956) radius 1.6
  circle A77 centre (-8.5445, -19.093) radius 1.6
  circle A78 centre (8.4555, -40.093) radius 1.6
extrude "Extrusion2" add sketch "Sketch1" along normal blind 3
properties part number "Bottom Plate" material "Polycarbonate, Clear"
